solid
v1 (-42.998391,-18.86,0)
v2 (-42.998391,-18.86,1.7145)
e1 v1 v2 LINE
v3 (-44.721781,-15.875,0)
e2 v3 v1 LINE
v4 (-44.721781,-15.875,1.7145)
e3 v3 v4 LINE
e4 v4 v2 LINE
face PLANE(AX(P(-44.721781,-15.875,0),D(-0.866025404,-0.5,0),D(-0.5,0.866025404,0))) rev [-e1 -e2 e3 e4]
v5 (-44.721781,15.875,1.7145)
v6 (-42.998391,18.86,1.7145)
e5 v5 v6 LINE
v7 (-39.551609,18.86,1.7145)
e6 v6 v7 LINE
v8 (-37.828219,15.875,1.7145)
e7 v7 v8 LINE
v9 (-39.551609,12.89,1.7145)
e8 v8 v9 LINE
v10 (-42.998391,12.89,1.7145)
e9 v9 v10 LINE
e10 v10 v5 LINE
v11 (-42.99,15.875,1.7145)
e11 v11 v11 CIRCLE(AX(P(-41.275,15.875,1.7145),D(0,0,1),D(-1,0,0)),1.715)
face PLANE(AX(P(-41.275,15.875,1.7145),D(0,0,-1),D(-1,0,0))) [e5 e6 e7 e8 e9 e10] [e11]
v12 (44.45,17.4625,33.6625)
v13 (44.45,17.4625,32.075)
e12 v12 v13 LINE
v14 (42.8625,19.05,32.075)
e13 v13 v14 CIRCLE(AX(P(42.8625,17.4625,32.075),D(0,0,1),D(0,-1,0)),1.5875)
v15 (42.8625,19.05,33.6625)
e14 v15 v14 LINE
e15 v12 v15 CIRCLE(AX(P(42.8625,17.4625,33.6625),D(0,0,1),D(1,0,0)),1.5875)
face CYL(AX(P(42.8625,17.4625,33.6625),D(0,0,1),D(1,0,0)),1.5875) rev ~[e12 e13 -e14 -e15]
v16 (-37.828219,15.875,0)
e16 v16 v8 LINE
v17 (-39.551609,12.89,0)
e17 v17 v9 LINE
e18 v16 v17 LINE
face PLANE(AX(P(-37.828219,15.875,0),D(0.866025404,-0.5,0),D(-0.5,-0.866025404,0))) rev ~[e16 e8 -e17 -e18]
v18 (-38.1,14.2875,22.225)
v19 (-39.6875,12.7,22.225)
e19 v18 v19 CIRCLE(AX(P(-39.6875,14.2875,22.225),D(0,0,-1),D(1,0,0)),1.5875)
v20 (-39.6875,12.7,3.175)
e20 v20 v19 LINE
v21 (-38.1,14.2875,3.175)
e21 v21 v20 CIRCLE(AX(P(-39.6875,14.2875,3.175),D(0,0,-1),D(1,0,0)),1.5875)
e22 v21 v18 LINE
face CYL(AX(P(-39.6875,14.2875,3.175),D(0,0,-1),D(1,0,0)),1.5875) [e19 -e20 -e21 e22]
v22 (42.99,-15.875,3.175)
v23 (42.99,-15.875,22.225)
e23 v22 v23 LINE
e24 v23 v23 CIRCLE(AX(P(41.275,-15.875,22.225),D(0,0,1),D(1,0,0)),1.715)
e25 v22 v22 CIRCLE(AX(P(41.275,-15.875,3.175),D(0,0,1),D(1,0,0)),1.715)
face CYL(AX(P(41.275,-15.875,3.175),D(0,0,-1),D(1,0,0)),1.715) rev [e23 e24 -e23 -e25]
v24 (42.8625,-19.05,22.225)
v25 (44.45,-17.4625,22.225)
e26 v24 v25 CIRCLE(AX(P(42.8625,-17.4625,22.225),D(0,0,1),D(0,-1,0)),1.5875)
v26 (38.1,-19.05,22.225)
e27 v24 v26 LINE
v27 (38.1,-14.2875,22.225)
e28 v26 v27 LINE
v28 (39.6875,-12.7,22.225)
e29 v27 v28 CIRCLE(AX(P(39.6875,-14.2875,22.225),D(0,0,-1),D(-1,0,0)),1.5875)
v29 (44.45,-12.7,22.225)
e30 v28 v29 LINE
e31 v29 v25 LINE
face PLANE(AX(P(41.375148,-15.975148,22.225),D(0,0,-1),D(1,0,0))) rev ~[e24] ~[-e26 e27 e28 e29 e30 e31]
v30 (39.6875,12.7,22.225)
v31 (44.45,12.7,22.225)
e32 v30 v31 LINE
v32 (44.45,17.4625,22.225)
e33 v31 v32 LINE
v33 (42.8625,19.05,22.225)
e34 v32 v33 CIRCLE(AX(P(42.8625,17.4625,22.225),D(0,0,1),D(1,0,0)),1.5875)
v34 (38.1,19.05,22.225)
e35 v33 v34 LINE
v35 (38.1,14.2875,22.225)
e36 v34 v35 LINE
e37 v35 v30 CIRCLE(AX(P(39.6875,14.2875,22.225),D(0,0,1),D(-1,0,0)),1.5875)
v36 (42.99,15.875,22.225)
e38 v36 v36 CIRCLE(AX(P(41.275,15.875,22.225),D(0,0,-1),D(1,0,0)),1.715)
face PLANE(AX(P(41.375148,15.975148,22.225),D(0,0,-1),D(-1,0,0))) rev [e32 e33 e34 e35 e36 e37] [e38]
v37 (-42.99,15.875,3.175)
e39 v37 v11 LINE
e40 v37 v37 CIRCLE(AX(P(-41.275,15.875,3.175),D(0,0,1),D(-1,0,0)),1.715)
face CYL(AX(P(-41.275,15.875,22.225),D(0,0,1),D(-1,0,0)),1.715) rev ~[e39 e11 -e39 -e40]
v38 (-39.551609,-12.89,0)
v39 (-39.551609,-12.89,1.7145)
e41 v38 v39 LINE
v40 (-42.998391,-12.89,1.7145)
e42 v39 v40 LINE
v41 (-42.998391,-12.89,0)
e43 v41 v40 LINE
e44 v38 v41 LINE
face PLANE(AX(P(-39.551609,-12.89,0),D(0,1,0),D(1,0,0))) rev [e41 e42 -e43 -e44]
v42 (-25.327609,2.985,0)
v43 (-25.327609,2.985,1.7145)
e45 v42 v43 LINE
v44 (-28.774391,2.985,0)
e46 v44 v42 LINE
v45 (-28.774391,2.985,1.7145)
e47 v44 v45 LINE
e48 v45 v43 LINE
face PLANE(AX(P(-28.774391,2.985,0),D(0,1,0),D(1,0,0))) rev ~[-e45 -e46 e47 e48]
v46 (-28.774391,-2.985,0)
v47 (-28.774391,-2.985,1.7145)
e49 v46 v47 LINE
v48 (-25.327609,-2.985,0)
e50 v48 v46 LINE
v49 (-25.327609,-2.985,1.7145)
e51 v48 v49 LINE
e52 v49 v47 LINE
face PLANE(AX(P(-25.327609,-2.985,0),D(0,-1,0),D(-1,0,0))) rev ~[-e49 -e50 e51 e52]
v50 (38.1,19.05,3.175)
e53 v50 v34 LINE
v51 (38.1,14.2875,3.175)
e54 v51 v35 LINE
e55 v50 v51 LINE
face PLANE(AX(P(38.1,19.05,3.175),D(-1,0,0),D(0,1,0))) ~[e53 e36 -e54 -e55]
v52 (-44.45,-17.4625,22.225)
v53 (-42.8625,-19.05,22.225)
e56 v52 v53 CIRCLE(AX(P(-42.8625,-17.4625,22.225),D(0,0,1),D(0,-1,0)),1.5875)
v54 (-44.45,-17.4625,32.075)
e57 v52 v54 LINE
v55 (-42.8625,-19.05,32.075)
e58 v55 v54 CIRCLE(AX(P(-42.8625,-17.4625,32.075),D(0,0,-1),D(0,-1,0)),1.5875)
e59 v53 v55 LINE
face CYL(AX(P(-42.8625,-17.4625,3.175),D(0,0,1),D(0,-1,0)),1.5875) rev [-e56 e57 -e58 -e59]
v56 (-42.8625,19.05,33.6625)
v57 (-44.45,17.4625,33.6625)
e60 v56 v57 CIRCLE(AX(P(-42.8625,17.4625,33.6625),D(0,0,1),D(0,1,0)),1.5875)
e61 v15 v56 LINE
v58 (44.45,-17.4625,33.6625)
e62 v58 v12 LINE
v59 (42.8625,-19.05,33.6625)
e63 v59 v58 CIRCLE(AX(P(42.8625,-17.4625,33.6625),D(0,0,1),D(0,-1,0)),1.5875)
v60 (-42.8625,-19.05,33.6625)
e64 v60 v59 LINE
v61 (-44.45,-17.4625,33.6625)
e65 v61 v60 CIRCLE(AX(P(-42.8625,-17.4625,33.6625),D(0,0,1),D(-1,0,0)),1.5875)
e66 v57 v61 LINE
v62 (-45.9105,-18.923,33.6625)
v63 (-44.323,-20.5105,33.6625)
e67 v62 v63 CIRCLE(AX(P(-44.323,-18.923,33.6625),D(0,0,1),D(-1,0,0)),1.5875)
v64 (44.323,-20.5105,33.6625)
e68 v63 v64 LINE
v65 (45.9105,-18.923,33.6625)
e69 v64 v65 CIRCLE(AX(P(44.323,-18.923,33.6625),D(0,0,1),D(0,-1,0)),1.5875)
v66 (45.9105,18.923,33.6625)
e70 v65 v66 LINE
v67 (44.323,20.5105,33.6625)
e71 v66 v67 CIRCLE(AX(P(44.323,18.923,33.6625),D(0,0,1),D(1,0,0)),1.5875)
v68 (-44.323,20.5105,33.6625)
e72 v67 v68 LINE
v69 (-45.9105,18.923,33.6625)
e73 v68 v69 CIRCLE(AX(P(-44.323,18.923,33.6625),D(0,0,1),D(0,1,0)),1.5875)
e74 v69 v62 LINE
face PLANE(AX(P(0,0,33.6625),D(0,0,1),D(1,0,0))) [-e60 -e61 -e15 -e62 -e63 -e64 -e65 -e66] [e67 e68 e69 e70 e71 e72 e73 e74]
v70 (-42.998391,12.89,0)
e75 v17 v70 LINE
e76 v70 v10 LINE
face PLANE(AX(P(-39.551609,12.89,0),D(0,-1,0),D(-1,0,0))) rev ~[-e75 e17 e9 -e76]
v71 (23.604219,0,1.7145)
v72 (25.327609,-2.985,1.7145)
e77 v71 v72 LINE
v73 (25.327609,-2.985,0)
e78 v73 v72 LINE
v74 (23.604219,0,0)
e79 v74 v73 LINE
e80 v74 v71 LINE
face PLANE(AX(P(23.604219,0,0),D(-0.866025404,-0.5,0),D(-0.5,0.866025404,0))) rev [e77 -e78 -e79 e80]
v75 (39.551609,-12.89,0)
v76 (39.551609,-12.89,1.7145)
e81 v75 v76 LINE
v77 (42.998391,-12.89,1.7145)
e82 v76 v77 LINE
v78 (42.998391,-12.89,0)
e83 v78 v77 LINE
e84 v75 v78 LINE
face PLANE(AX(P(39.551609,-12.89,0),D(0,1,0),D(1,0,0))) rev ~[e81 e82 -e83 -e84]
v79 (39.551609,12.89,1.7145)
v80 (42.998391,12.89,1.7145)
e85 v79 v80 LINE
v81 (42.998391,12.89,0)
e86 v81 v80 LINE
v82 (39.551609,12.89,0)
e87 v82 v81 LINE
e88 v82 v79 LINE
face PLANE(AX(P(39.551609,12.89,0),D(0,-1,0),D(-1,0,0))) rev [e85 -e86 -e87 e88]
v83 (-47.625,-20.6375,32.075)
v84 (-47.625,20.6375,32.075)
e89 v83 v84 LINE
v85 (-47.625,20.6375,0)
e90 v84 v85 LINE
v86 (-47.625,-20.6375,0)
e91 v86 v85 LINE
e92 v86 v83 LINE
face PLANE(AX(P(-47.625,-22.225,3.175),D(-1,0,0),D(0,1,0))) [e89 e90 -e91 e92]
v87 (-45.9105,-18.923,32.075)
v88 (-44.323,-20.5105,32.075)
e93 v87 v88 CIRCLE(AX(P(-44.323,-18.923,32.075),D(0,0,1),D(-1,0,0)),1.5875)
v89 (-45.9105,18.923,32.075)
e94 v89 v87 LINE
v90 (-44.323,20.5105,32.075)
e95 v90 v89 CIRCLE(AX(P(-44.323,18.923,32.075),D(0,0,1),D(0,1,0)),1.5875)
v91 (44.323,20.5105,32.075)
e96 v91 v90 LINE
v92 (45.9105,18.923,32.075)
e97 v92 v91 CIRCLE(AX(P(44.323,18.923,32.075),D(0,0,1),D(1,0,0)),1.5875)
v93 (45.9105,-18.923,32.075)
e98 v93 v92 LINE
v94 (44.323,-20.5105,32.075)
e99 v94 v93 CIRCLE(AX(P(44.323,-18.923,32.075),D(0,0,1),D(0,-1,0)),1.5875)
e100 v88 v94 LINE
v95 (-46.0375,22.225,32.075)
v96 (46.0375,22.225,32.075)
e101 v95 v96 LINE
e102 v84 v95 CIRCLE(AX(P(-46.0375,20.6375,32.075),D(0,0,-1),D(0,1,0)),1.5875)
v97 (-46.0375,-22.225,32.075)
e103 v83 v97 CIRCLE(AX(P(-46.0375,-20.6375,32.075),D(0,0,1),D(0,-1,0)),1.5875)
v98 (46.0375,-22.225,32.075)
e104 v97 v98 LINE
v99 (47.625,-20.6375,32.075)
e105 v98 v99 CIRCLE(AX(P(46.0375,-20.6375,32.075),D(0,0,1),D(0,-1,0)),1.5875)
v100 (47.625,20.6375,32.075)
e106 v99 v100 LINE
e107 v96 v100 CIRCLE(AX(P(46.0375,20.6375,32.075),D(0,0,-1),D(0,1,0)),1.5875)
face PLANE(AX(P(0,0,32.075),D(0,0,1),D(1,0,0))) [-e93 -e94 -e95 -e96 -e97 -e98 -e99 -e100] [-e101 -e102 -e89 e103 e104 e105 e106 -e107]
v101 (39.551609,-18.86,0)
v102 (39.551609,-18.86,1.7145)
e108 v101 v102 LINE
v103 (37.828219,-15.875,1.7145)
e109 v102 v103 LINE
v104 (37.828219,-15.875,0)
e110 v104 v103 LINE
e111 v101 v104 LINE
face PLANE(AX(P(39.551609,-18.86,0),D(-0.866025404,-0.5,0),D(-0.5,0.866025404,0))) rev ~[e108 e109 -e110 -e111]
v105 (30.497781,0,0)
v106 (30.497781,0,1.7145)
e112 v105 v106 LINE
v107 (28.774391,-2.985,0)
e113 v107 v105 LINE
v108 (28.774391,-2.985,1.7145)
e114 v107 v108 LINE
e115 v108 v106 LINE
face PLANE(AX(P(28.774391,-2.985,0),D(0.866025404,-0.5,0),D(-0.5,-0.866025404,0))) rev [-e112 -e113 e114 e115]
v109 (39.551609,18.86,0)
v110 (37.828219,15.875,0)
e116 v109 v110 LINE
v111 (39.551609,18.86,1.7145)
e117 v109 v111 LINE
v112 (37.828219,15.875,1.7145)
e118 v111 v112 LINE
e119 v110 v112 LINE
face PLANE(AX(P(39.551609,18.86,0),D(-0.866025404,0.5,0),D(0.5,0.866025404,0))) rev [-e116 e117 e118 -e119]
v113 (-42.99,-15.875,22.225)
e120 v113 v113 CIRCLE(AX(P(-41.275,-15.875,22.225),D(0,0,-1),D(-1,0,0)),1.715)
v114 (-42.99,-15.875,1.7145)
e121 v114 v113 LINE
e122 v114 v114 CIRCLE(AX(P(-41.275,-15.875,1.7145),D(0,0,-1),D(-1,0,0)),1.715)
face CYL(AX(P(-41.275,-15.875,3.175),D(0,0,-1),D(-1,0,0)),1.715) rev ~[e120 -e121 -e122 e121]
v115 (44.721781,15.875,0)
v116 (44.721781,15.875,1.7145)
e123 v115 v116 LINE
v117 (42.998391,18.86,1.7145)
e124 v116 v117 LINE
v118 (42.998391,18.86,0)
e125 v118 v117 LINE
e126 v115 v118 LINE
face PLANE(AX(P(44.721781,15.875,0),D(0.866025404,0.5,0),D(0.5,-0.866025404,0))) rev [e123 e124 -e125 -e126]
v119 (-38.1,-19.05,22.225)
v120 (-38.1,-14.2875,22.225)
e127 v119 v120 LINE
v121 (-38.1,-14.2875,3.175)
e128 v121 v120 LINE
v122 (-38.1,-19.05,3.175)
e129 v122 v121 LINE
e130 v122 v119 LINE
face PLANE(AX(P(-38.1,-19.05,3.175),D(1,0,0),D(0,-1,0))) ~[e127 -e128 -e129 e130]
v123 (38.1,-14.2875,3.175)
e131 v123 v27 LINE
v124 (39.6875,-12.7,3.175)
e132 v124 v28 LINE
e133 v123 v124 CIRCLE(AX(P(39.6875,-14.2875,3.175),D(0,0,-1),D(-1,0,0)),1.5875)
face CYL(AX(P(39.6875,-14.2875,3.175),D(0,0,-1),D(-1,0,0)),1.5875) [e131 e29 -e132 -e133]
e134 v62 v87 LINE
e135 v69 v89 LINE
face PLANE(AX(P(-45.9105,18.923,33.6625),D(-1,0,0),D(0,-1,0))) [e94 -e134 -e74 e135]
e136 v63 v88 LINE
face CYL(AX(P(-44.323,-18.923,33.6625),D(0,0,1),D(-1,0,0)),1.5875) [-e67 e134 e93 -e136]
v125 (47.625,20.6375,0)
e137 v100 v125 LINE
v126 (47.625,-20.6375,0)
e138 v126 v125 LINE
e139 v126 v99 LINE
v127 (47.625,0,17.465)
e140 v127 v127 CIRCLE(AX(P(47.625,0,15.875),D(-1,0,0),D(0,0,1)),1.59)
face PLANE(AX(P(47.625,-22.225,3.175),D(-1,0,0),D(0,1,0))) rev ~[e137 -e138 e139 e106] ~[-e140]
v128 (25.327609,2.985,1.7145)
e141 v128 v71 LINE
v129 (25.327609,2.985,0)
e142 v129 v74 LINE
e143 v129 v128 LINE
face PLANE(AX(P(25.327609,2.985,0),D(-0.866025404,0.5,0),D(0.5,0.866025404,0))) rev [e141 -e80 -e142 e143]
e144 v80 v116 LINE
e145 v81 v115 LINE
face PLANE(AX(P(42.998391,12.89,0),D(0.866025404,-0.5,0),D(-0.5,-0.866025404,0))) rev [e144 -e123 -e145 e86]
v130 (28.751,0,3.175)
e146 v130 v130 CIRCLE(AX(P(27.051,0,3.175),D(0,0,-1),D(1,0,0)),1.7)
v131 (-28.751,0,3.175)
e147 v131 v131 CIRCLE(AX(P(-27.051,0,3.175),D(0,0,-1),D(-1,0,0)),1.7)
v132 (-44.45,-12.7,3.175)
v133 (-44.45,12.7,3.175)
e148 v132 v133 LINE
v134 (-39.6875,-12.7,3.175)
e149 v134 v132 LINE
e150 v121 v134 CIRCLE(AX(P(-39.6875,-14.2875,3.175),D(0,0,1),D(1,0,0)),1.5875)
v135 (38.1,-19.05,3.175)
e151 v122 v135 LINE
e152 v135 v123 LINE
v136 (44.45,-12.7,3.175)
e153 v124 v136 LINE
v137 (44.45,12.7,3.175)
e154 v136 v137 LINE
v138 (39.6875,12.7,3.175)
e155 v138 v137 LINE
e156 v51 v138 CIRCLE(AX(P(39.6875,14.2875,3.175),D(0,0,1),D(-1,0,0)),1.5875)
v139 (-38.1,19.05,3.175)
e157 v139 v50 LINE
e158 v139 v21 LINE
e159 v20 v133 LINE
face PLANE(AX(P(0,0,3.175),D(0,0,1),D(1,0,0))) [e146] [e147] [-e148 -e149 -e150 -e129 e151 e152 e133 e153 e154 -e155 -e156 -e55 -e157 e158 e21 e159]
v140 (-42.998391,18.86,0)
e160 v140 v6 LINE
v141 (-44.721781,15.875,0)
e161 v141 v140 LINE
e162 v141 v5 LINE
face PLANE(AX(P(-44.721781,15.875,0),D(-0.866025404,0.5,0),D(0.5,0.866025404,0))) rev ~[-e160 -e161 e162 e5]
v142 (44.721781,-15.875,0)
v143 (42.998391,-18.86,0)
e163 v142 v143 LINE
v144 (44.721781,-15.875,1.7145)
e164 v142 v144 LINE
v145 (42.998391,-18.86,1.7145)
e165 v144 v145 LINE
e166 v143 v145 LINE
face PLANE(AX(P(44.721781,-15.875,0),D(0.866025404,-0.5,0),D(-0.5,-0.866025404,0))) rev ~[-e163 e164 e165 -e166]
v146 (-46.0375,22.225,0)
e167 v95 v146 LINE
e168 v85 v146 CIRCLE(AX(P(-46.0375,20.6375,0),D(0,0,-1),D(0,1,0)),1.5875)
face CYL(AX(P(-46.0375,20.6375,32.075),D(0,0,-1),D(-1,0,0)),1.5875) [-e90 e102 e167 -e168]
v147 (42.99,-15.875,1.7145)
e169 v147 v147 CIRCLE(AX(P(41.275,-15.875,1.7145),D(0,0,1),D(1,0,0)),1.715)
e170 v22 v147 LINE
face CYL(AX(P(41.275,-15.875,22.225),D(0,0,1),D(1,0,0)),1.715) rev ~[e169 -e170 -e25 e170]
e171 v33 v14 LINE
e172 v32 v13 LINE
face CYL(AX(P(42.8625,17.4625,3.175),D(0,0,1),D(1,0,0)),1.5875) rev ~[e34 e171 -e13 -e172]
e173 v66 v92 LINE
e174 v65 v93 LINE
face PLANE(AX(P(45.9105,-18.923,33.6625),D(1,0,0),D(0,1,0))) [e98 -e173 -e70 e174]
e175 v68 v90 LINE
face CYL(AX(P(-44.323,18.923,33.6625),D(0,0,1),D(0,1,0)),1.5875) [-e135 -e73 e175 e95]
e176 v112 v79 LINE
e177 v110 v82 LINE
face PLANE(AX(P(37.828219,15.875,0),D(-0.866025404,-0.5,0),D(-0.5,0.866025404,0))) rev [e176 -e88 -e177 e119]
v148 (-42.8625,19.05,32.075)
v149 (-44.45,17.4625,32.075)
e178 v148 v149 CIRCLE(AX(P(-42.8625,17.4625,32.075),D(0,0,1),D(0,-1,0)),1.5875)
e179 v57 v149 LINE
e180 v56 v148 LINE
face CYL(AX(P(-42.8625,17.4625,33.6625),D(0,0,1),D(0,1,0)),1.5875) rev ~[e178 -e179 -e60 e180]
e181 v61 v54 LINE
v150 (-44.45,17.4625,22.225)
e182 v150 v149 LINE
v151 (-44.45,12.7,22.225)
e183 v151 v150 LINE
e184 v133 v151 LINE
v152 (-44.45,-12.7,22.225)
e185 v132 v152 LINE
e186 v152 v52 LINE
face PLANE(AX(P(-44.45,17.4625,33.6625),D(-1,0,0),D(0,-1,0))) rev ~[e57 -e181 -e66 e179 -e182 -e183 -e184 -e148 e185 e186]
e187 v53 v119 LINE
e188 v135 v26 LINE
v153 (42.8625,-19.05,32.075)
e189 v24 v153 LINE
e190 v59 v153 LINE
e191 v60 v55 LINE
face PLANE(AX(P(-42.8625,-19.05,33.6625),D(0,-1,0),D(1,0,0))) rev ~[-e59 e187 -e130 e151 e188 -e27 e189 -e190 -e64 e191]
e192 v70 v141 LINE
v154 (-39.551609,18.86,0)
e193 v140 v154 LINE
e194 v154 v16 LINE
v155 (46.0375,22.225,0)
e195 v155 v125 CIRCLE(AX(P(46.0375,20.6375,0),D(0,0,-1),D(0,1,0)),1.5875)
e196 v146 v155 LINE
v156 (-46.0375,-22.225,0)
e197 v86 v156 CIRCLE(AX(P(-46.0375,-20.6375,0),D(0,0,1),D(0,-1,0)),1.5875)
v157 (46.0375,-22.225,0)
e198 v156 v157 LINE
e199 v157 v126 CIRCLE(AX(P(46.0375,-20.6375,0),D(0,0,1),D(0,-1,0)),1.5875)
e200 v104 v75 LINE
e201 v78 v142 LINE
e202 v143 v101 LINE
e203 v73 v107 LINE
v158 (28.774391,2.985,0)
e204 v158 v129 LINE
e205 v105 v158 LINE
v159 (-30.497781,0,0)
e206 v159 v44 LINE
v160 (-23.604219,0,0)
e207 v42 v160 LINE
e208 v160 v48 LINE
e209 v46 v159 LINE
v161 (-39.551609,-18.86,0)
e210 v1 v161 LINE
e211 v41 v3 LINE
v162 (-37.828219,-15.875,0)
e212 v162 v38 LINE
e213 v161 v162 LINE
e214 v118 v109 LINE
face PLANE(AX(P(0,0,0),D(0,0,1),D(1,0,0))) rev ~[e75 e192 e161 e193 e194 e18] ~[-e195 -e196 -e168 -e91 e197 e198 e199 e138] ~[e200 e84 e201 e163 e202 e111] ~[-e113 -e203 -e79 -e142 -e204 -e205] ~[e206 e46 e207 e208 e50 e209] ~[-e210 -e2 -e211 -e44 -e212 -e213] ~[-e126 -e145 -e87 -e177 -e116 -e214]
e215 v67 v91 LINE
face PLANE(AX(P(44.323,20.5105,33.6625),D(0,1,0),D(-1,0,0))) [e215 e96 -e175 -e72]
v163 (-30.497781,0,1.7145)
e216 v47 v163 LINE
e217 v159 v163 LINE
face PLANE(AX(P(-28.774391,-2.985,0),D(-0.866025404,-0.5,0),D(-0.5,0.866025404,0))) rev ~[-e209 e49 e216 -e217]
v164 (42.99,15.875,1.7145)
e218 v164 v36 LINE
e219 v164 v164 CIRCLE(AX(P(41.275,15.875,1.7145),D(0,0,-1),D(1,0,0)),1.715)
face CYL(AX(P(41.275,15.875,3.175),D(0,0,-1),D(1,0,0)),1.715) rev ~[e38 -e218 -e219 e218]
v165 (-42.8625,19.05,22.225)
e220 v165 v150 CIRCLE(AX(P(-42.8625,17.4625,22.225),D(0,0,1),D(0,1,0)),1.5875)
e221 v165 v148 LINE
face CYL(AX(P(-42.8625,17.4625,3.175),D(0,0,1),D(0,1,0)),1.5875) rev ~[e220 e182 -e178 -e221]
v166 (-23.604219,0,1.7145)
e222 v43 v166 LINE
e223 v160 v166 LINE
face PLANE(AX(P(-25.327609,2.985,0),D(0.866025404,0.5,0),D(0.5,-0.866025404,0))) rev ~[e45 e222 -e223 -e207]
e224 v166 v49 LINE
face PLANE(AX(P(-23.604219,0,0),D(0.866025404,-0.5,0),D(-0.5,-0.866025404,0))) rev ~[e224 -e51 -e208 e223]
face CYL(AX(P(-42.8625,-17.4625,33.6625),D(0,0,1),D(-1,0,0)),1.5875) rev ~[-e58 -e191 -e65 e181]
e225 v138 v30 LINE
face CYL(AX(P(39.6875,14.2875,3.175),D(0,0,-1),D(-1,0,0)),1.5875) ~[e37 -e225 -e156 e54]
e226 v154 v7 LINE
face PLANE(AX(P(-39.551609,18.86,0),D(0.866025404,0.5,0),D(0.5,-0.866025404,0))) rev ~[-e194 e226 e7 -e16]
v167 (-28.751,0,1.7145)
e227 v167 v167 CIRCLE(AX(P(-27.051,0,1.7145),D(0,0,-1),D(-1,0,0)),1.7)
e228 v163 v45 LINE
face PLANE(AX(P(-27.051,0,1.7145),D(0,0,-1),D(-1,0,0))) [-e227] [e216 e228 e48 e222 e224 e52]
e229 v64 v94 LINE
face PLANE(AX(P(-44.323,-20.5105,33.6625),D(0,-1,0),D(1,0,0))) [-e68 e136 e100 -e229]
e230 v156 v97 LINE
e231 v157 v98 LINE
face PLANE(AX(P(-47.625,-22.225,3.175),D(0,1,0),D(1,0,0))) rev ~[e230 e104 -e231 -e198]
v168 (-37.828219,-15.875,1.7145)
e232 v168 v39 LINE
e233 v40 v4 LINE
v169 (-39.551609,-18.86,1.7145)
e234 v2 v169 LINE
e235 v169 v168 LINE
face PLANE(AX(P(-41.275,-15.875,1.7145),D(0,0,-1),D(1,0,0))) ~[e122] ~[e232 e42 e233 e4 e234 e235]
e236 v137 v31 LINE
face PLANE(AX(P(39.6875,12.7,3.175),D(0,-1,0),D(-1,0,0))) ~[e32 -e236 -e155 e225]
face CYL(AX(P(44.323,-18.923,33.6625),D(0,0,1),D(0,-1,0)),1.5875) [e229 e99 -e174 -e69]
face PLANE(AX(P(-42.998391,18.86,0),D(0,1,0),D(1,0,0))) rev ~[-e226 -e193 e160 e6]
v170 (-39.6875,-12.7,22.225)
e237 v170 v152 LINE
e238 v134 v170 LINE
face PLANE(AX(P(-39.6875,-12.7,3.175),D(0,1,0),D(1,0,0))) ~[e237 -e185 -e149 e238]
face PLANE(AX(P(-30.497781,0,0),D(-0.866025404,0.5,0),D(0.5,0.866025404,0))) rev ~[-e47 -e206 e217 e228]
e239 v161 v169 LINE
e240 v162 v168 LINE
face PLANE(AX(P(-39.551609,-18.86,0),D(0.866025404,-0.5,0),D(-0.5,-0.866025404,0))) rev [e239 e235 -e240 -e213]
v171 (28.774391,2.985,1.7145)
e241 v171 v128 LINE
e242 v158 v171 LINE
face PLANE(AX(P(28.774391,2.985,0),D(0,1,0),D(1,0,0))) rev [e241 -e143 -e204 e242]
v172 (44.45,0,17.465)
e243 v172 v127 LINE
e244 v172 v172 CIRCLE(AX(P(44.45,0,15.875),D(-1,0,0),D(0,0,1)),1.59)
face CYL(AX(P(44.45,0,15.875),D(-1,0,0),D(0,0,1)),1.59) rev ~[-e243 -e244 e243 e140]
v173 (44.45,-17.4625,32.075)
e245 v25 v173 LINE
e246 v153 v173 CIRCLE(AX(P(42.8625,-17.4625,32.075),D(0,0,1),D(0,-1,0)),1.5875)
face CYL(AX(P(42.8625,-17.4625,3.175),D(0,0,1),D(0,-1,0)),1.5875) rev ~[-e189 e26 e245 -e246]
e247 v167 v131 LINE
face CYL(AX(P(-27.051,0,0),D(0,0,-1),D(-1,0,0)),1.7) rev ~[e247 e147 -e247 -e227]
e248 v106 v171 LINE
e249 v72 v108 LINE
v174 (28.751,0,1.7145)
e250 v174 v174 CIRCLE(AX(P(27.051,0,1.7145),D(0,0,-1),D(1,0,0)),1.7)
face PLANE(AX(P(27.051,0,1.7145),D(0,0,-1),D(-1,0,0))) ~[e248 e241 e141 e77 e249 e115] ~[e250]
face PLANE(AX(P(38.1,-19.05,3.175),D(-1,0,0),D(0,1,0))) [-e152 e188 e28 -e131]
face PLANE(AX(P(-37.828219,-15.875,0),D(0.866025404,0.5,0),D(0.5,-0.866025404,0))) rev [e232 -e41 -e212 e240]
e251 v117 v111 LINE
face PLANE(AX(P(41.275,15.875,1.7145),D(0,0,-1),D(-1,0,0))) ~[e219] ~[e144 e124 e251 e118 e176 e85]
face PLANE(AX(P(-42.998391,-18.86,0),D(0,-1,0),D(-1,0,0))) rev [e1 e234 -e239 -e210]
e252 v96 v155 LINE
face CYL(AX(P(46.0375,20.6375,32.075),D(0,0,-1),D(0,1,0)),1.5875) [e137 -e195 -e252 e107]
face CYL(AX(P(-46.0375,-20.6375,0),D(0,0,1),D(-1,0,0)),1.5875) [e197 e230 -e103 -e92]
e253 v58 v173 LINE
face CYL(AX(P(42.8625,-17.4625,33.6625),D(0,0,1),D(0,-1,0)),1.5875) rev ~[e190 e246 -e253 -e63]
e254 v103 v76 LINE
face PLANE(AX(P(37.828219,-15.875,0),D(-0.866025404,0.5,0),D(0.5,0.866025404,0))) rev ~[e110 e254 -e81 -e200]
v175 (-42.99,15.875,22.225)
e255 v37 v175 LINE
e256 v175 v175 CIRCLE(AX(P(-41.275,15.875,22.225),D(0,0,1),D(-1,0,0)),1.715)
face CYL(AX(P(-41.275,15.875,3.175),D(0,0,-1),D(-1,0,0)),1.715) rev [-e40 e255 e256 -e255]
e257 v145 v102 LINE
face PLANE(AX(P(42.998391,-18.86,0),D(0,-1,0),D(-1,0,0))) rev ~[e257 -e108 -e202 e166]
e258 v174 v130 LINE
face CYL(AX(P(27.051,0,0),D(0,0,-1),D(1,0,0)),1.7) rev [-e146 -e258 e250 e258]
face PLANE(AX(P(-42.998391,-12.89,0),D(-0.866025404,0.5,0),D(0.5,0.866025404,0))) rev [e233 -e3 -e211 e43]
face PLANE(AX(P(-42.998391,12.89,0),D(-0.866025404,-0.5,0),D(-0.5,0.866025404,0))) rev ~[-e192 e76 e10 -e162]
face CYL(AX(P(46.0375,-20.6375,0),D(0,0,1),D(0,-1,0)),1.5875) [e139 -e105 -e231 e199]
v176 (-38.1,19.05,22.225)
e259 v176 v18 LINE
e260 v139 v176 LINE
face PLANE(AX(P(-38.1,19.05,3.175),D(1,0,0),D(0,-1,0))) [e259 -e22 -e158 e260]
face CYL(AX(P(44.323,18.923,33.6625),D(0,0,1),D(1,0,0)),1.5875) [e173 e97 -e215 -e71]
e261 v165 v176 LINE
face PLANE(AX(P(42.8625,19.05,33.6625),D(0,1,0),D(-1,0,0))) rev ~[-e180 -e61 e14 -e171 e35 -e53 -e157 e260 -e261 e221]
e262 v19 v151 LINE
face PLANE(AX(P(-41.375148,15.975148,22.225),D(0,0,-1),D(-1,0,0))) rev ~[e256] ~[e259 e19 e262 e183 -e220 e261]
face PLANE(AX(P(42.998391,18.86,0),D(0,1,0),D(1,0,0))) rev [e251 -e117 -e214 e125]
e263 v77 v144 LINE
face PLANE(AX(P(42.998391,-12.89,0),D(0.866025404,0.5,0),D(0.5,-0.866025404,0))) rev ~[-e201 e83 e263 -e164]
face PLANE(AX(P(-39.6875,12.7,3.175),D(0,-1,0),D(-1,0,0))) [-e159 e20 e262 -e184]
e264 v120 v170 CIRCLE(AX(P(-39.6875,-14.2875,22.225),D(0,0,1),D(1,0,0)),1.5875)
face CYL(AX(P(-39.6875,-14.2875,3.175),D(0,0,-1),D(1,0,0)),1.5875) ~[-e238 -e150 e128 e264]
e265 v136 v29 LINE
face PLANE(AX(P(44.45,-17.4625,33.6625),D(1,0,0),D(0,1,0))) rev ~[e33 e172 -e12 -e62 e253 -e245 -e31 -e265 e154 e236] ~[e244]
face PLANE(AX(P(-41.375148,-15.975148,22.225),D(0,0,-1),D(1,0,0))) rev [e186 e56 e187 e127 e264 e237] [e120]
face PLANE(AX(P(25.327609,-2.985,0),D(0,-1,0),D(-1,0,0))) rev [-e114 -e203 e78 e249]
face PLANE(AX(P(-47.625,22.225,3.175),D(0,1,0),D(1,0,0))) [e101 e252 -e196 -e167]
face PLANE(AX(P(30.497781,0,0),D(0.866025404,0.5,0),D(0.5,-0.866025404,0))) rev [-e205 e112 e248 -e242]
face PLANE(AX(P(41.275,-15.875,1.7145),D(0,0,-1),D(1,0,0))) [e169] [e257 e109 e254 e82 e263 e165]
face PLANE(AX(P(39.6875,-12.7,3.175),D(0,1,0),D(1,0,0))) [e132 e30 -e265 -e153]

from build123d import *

# Parameters (mm, degrees)
SKETCH1_W                                  = 95.25
SKETCH1_H                                  = 44.45
BOSS_EXTRUDE1_DEPTH                        = 3.175
SKETCH2_W                                  = 95.25
SKETCH2_H                                  = 44.45
SKETCH2_W_2                                = 88.9
SKETCH2_H_2                                = 38.1
BOSS_EXTRUDE2_DEPTH                        = 28.9
SKETCH3_R                                  = 1.7
CUT_EXTRUDE1_DEPTH                         = 62.570259663
CUT_EXTRUDE2_DEPTH                         = 1.7145
FILLET1_R                                  = 1.5875
BOSS_EXTRUDE3_START                        = 1.5875
BOSS_EXTRUDE3_DEPTH                        = 1.5875
SKETCH6_R                                  = 1.715
BOSS_EXTRUDE4_DEPTH                        = 19.05
SKETCH7_R                                  = 1.715
CUT_EXTRUDE3_DEPTH                         = 58.061737399
CUT_EXTRUDE4_DEPTH                         = 1.7145
MIRROR3_AT_THE_SECOND_PLANE_COPY_1_SKETC_R = 1.715
MIRROR3_AT_THE_SECOND_PLANE_COPY_1_DEPTH   = 19.05
MIRROR3_AT_THE_SECOND_PLANE_COPY_2_SKETC_R = 1.715
MIRROR3_AT_THE_SECOND_PLANE_COPY_2_DEPTH   = 58.061737399
MIRROR3_AT_THE_SECOND_PLANE_COPY_3_DEPTH   = 1.7145
SKETCH9_R                                  = 1.59
CUT_EXTRUDE5_DEPTH                         = 101.523231923


with BuildPart() as part:
    # Sketch1 → Boss-Extrude1 (new body)
    with BuildSketch(Plane.XY):
        Rectangle(SKETCH1_W, SKETCH1_H)
    extrude(amount=BOSS_EXTRUDE1_DEPTH)

    # Sketch2 → Boss-Extrude2 (add)
    with BuildSketch(Plane.XY.offset(3.175)):
        Rectangle(SKETCH2_W, SKETCH2_H)
        Rectangle(SKETCH2_W_2, SKETCH2_H_2, mode=Mode.SUBTRACT)
    extrude(amount=BOSS_EXTRUDE2_DEPTH)

    # Sketch3 → Cut-Extrude1 (cut, through all)
    with BuildSketch(Plane(origin=(0, 0, 0), x_dir=(-1, 0, 0), z_dir=(0, 0, -1))):
        with Locations((27.051, 0)):
            Circle(SKETCH3_R)
    cut_extrude1 = extrude(amount=-CUT_EXTRUDE1_DEPTH, mode=Mode.SUBTRACT)

    # Mirror1: Cut-Extrude1 across plane
    add(cut_extrude1.mirror(Plane(origin=(0, 0, 0), x_dir=(0, 0, 1), z_dir=(1, 0, 0))), mode=Mode.SUBTRACT)

    # Sketch4 → Cut-Extrude2 (cut)
    with BuildSketch(Plane(origin=(0, 0, 0), x_dir=(-1, 0, 0), z_dir=(0, 0, -1))):
        Polygon((30.497781106, 0), (28.774390553, 2.984999999), (25.327609447, 2.984999999), (23.604218894, 0), (25.327609447, -2.984999999), (28.774390553, -2.984999999), align=None)
    cut_extrude2 = extrude(amount=-CUT_EXTRUDE2_DEPTH, mode=Mode.SUBTRACT)

    # Mirror2: Cut-Extrude2 across plane
    add(cut_extrude2.mirror(Plane(origin=(0, 0, 0), x_dir=(0, 0, 1), z_dir=(1, 0, 0))), mode=Mode.SUBTRACT)

    # Fillet1
    fillet1_edges = [part.edges().sort_by_distance(p)[0] for p in [
        (44.45, 19.05, 17.625),
        (-44.45, 19.05, 17.625),
        (-44.45, -19.05, 17.625),
        (44.45, -19.05, 17.625),
        (47.625, -22.225, 16.0375),
        (-47.625, -22.225, 16.0375),
        (-47.625, 22.225, 16.0375),
        (47.625, 22.225, 16.0375),
    ]]
    fillet(fillet1_edges, radius=FILLET1_R)

    # Sketch5 → Boss-Extrude3 (add)
    with BuildSketch(Plane.XY.offset(32.075).offset(BOSS_EXTRUDE3_START)):
        with BuildLine():
            Line((-44.323, -20.5105), (44.323, -20.5105))
            ThreePointArc((44.323, -20.5105), (45.445532015, -20.045532015), (45.9105, -18.923))
            Line((45.9105, -18.923), (45.9105, 18.923))
            ThreePointArc((45.9105, 18.923), (45.445532015, 20.045532015), (44.323, 20.5105))
            Line((44.323, 20.5105), (-44.323, 20.5105))
            ThreePointArc((-44.323, 20.5105), (-45.445532015, 20.045532015), (-45.9105, 18.923))
            Line((-45.9105, 18.923), (-45.9105, -18.923))
            ThreePointArc((-45.9105, -18.923), (-45.445532015, -20.045532015), (-44.323, -20.5105))
        make_face()
        with BuildLine():
            Line((44.45, -17.4625), (44.45, 17.4625))
            ThreePointArc((44.45, 17.4625), (43.985032015, 18.585032015), (42.8625, 19.05))
            Line((42.8625, 19.05), (-42.8625, 19.05))
            ThreePointArc((-42.8625, 19.05), (-43.985032015, 18.585032015), (-44.45, 17.4625))
            Line((-44.45, 17.4625), (-44.45, -17.4625))
            ThreePointArc((-44.45, -17.4625), (-43.985032015, -18.585032015), (-42.8625, -19.05))
            Line((-42.8625, -19.05), (42.8625, -19.05))
            ThreePointArc((42.8625, -19.05), (43.985032015, -18.585032015), (44.45, -17.4625))
        make_face(mode=Mode.SUBTRACT)
    extrude(amount=-BOSS_EXTRUDE3_DEPTH)

    # Sketch6 → Boss-Extrude4 (add)
    with BuildSketch(Plane.XY.offset(3.175)):
        with BuildLine():
            Line((-44.45, 19.05), (-38.1, 19.05))
            Line((-38.1, 19.05), (-38.1, 14.2875))
            ThreePointArc((-38.1, 14.2875), (-38.564967985, 13.164967985), (-39.6875, 12.7))
            Line((-39.6875, 12.7), (-44.45, 12.7))
            Line((-44.45, 12.7), (-44.45, 19.05))
        make_face()
        with Locations(Location((-41.275, 15.875, 0), (0, 0, 180))):
            Circle(SKETCH6_R, mode=Mode.SUBTRACT)
    boss_extrude4 = extrude(amount=BOSS_EXTRUDE4_DEPTH)

    # Sketch7 → Cut-Extrude3 (cut, through all)
    with BuildSketch(Plane.XY.offset(22.225)):
        with Locations(Location((-41.275, 15.875, 0), (0, 0, 180))):
            Circle(SKETCH7_R)
    cut_extrude3 = extrude(amount=-CUT_EXTRUDE3_DEPTH, mode=Mode.SUBTRACT)

    # Sketch8 → Cut-Extrude4 (cut)
    with BuildSketch(Plane(origin=(0, 0, 0), x_dir=(-1, 0, 0), z_dir=(0, 0, -1))):
        Polygon((37.828218893, 15.875), (39.551609446, 12.89), (42.998390554, 12.89), (44.721781107, 15.875), (42.998390554, 18.86), (39.551609446, 18.86), align=None)
    cut_extrude4 = extrude(amount=-CUT_EXTRUDE4_DEPTH, mode=Mode.SUBTRACT)

    # Mirror3: Boss-Extrude4, Cut-Extrude3, Cut-Extrude4 across plane
    add(boss_extrude4.mirror(Plane(origin=(0, 0, 0), x_dir=(0, 0, 1), z_dir=(1, 0, 0))))
    add(cut_extrude3.mirror(Plane(origin=(0, 0, 0), x_dir=(0, 0, 1), z_dir=(1, 0, 0))), mode=Mode.SUBTRACT)
    add(cut_extrude4.mirror(Plane(origin=(0, 0, 0), x_dir=(0, 0, 1), z_dir=(1, 0, 0))), mode=Mode.SUBTRACT)

    # Mirror3 at the second plane: Boss-Extrude4, Cut-Extrude3, Cut-Extrude4 across plane
    add(boss_extrude4.mirror(Plane.ZX))
    add(cut_extrude3.mirror(Plane.ZX), mode=Mode.SUBTRACT)
    add(cut_extrude4.mirror(Plane.ZX), mode=Mode.SUBTRACT)

    # Mirror3 at the second plane copy 1 sketc → Mirror3 at the second plane copy 1 (add)
    with BuildSketch(Plane(origin=(0, 0, 3.175), x_dir=(-1, 0, 0), z_dir=(0, 0, 1))):
        with BuildLine():
            Line((-44.45, 19.05), (-38.1, 19.05))
            Line((-38.1, 19.05), (-38.1, 14.2875))
            ThreePointArc((-38.1, 14.2875), (-38.564967985, 13.164967985), (-39.6875, 12.7))
            Line((-39.6875, 12.7), (-44.45, 12.7))
            Line((-44.45, 12.7), (-44.45, 19.05))
        make_face()
        with Locations(Location((-41.275, 15.875, 0), (0, 0, 180))):
            Circle(MIRROR3_AT_THE_SECOND_PLANE_COPY_1_SKETC_R, mode=Mode.SUBTRACT)
    extrude(amount=MIRROR3_AT_THE_SECOND_PLANE_COPY_1_DEPTH)

    # Mirror3 at the second plane copy 2 sketc → Mirror3 at the second plane copy 2 (cut, through all)
    with BuildSketch(Plane(origin=(0, 0, 22.225), x_dir=(-1, 0, 0), z_dir=(0, 0, 1))):
        with Locations(Location((-41.275, 15.875, 0), (0, 0, 180))):
            Circle(MIRROR3_AT_THE_SECOND_PLANE_COPY_2_SKETC_R)
    extrude(amount=-MIRROR3_AT_THE_SECOND_PLANE_COPY_2_DEPTH, mode=Mode.SUBTRACT)

    # Mirror3 at the second plane copy 3 sketc → Mirror3 at the second plane copy 3 (cut)
    with BuildSketch(Plane(origin=(0, 0, 0), x_dir=(1, 0, 0), z_dir=(0, 0, -1))):
        Polygon((37.828218893, 15.875), (39.551609446, 12.89), (42.998390554, 12.89), (44.721781107, 15.875), (42.998390554, 18.86), (39.551609446, 18.86), align=None)
    extrude(amount=-MIRROR3_AT_THE_SECOND_PLANE_COPY_3_DEPTH, mode=Mode.SUBTRACT)

    # Sketch9 → Cut-Extrude5 (cut, through all)
    with BuildSketch(Plane.ZY.offset(-44.45)):
        with Locations((15.875, 0)):
            Circle(SKETCH9_R)
    extrude(amount=-CUT_EXTRUDE5_DEPTH, mode=Mode.SUBTRACT)


solid = part.part
